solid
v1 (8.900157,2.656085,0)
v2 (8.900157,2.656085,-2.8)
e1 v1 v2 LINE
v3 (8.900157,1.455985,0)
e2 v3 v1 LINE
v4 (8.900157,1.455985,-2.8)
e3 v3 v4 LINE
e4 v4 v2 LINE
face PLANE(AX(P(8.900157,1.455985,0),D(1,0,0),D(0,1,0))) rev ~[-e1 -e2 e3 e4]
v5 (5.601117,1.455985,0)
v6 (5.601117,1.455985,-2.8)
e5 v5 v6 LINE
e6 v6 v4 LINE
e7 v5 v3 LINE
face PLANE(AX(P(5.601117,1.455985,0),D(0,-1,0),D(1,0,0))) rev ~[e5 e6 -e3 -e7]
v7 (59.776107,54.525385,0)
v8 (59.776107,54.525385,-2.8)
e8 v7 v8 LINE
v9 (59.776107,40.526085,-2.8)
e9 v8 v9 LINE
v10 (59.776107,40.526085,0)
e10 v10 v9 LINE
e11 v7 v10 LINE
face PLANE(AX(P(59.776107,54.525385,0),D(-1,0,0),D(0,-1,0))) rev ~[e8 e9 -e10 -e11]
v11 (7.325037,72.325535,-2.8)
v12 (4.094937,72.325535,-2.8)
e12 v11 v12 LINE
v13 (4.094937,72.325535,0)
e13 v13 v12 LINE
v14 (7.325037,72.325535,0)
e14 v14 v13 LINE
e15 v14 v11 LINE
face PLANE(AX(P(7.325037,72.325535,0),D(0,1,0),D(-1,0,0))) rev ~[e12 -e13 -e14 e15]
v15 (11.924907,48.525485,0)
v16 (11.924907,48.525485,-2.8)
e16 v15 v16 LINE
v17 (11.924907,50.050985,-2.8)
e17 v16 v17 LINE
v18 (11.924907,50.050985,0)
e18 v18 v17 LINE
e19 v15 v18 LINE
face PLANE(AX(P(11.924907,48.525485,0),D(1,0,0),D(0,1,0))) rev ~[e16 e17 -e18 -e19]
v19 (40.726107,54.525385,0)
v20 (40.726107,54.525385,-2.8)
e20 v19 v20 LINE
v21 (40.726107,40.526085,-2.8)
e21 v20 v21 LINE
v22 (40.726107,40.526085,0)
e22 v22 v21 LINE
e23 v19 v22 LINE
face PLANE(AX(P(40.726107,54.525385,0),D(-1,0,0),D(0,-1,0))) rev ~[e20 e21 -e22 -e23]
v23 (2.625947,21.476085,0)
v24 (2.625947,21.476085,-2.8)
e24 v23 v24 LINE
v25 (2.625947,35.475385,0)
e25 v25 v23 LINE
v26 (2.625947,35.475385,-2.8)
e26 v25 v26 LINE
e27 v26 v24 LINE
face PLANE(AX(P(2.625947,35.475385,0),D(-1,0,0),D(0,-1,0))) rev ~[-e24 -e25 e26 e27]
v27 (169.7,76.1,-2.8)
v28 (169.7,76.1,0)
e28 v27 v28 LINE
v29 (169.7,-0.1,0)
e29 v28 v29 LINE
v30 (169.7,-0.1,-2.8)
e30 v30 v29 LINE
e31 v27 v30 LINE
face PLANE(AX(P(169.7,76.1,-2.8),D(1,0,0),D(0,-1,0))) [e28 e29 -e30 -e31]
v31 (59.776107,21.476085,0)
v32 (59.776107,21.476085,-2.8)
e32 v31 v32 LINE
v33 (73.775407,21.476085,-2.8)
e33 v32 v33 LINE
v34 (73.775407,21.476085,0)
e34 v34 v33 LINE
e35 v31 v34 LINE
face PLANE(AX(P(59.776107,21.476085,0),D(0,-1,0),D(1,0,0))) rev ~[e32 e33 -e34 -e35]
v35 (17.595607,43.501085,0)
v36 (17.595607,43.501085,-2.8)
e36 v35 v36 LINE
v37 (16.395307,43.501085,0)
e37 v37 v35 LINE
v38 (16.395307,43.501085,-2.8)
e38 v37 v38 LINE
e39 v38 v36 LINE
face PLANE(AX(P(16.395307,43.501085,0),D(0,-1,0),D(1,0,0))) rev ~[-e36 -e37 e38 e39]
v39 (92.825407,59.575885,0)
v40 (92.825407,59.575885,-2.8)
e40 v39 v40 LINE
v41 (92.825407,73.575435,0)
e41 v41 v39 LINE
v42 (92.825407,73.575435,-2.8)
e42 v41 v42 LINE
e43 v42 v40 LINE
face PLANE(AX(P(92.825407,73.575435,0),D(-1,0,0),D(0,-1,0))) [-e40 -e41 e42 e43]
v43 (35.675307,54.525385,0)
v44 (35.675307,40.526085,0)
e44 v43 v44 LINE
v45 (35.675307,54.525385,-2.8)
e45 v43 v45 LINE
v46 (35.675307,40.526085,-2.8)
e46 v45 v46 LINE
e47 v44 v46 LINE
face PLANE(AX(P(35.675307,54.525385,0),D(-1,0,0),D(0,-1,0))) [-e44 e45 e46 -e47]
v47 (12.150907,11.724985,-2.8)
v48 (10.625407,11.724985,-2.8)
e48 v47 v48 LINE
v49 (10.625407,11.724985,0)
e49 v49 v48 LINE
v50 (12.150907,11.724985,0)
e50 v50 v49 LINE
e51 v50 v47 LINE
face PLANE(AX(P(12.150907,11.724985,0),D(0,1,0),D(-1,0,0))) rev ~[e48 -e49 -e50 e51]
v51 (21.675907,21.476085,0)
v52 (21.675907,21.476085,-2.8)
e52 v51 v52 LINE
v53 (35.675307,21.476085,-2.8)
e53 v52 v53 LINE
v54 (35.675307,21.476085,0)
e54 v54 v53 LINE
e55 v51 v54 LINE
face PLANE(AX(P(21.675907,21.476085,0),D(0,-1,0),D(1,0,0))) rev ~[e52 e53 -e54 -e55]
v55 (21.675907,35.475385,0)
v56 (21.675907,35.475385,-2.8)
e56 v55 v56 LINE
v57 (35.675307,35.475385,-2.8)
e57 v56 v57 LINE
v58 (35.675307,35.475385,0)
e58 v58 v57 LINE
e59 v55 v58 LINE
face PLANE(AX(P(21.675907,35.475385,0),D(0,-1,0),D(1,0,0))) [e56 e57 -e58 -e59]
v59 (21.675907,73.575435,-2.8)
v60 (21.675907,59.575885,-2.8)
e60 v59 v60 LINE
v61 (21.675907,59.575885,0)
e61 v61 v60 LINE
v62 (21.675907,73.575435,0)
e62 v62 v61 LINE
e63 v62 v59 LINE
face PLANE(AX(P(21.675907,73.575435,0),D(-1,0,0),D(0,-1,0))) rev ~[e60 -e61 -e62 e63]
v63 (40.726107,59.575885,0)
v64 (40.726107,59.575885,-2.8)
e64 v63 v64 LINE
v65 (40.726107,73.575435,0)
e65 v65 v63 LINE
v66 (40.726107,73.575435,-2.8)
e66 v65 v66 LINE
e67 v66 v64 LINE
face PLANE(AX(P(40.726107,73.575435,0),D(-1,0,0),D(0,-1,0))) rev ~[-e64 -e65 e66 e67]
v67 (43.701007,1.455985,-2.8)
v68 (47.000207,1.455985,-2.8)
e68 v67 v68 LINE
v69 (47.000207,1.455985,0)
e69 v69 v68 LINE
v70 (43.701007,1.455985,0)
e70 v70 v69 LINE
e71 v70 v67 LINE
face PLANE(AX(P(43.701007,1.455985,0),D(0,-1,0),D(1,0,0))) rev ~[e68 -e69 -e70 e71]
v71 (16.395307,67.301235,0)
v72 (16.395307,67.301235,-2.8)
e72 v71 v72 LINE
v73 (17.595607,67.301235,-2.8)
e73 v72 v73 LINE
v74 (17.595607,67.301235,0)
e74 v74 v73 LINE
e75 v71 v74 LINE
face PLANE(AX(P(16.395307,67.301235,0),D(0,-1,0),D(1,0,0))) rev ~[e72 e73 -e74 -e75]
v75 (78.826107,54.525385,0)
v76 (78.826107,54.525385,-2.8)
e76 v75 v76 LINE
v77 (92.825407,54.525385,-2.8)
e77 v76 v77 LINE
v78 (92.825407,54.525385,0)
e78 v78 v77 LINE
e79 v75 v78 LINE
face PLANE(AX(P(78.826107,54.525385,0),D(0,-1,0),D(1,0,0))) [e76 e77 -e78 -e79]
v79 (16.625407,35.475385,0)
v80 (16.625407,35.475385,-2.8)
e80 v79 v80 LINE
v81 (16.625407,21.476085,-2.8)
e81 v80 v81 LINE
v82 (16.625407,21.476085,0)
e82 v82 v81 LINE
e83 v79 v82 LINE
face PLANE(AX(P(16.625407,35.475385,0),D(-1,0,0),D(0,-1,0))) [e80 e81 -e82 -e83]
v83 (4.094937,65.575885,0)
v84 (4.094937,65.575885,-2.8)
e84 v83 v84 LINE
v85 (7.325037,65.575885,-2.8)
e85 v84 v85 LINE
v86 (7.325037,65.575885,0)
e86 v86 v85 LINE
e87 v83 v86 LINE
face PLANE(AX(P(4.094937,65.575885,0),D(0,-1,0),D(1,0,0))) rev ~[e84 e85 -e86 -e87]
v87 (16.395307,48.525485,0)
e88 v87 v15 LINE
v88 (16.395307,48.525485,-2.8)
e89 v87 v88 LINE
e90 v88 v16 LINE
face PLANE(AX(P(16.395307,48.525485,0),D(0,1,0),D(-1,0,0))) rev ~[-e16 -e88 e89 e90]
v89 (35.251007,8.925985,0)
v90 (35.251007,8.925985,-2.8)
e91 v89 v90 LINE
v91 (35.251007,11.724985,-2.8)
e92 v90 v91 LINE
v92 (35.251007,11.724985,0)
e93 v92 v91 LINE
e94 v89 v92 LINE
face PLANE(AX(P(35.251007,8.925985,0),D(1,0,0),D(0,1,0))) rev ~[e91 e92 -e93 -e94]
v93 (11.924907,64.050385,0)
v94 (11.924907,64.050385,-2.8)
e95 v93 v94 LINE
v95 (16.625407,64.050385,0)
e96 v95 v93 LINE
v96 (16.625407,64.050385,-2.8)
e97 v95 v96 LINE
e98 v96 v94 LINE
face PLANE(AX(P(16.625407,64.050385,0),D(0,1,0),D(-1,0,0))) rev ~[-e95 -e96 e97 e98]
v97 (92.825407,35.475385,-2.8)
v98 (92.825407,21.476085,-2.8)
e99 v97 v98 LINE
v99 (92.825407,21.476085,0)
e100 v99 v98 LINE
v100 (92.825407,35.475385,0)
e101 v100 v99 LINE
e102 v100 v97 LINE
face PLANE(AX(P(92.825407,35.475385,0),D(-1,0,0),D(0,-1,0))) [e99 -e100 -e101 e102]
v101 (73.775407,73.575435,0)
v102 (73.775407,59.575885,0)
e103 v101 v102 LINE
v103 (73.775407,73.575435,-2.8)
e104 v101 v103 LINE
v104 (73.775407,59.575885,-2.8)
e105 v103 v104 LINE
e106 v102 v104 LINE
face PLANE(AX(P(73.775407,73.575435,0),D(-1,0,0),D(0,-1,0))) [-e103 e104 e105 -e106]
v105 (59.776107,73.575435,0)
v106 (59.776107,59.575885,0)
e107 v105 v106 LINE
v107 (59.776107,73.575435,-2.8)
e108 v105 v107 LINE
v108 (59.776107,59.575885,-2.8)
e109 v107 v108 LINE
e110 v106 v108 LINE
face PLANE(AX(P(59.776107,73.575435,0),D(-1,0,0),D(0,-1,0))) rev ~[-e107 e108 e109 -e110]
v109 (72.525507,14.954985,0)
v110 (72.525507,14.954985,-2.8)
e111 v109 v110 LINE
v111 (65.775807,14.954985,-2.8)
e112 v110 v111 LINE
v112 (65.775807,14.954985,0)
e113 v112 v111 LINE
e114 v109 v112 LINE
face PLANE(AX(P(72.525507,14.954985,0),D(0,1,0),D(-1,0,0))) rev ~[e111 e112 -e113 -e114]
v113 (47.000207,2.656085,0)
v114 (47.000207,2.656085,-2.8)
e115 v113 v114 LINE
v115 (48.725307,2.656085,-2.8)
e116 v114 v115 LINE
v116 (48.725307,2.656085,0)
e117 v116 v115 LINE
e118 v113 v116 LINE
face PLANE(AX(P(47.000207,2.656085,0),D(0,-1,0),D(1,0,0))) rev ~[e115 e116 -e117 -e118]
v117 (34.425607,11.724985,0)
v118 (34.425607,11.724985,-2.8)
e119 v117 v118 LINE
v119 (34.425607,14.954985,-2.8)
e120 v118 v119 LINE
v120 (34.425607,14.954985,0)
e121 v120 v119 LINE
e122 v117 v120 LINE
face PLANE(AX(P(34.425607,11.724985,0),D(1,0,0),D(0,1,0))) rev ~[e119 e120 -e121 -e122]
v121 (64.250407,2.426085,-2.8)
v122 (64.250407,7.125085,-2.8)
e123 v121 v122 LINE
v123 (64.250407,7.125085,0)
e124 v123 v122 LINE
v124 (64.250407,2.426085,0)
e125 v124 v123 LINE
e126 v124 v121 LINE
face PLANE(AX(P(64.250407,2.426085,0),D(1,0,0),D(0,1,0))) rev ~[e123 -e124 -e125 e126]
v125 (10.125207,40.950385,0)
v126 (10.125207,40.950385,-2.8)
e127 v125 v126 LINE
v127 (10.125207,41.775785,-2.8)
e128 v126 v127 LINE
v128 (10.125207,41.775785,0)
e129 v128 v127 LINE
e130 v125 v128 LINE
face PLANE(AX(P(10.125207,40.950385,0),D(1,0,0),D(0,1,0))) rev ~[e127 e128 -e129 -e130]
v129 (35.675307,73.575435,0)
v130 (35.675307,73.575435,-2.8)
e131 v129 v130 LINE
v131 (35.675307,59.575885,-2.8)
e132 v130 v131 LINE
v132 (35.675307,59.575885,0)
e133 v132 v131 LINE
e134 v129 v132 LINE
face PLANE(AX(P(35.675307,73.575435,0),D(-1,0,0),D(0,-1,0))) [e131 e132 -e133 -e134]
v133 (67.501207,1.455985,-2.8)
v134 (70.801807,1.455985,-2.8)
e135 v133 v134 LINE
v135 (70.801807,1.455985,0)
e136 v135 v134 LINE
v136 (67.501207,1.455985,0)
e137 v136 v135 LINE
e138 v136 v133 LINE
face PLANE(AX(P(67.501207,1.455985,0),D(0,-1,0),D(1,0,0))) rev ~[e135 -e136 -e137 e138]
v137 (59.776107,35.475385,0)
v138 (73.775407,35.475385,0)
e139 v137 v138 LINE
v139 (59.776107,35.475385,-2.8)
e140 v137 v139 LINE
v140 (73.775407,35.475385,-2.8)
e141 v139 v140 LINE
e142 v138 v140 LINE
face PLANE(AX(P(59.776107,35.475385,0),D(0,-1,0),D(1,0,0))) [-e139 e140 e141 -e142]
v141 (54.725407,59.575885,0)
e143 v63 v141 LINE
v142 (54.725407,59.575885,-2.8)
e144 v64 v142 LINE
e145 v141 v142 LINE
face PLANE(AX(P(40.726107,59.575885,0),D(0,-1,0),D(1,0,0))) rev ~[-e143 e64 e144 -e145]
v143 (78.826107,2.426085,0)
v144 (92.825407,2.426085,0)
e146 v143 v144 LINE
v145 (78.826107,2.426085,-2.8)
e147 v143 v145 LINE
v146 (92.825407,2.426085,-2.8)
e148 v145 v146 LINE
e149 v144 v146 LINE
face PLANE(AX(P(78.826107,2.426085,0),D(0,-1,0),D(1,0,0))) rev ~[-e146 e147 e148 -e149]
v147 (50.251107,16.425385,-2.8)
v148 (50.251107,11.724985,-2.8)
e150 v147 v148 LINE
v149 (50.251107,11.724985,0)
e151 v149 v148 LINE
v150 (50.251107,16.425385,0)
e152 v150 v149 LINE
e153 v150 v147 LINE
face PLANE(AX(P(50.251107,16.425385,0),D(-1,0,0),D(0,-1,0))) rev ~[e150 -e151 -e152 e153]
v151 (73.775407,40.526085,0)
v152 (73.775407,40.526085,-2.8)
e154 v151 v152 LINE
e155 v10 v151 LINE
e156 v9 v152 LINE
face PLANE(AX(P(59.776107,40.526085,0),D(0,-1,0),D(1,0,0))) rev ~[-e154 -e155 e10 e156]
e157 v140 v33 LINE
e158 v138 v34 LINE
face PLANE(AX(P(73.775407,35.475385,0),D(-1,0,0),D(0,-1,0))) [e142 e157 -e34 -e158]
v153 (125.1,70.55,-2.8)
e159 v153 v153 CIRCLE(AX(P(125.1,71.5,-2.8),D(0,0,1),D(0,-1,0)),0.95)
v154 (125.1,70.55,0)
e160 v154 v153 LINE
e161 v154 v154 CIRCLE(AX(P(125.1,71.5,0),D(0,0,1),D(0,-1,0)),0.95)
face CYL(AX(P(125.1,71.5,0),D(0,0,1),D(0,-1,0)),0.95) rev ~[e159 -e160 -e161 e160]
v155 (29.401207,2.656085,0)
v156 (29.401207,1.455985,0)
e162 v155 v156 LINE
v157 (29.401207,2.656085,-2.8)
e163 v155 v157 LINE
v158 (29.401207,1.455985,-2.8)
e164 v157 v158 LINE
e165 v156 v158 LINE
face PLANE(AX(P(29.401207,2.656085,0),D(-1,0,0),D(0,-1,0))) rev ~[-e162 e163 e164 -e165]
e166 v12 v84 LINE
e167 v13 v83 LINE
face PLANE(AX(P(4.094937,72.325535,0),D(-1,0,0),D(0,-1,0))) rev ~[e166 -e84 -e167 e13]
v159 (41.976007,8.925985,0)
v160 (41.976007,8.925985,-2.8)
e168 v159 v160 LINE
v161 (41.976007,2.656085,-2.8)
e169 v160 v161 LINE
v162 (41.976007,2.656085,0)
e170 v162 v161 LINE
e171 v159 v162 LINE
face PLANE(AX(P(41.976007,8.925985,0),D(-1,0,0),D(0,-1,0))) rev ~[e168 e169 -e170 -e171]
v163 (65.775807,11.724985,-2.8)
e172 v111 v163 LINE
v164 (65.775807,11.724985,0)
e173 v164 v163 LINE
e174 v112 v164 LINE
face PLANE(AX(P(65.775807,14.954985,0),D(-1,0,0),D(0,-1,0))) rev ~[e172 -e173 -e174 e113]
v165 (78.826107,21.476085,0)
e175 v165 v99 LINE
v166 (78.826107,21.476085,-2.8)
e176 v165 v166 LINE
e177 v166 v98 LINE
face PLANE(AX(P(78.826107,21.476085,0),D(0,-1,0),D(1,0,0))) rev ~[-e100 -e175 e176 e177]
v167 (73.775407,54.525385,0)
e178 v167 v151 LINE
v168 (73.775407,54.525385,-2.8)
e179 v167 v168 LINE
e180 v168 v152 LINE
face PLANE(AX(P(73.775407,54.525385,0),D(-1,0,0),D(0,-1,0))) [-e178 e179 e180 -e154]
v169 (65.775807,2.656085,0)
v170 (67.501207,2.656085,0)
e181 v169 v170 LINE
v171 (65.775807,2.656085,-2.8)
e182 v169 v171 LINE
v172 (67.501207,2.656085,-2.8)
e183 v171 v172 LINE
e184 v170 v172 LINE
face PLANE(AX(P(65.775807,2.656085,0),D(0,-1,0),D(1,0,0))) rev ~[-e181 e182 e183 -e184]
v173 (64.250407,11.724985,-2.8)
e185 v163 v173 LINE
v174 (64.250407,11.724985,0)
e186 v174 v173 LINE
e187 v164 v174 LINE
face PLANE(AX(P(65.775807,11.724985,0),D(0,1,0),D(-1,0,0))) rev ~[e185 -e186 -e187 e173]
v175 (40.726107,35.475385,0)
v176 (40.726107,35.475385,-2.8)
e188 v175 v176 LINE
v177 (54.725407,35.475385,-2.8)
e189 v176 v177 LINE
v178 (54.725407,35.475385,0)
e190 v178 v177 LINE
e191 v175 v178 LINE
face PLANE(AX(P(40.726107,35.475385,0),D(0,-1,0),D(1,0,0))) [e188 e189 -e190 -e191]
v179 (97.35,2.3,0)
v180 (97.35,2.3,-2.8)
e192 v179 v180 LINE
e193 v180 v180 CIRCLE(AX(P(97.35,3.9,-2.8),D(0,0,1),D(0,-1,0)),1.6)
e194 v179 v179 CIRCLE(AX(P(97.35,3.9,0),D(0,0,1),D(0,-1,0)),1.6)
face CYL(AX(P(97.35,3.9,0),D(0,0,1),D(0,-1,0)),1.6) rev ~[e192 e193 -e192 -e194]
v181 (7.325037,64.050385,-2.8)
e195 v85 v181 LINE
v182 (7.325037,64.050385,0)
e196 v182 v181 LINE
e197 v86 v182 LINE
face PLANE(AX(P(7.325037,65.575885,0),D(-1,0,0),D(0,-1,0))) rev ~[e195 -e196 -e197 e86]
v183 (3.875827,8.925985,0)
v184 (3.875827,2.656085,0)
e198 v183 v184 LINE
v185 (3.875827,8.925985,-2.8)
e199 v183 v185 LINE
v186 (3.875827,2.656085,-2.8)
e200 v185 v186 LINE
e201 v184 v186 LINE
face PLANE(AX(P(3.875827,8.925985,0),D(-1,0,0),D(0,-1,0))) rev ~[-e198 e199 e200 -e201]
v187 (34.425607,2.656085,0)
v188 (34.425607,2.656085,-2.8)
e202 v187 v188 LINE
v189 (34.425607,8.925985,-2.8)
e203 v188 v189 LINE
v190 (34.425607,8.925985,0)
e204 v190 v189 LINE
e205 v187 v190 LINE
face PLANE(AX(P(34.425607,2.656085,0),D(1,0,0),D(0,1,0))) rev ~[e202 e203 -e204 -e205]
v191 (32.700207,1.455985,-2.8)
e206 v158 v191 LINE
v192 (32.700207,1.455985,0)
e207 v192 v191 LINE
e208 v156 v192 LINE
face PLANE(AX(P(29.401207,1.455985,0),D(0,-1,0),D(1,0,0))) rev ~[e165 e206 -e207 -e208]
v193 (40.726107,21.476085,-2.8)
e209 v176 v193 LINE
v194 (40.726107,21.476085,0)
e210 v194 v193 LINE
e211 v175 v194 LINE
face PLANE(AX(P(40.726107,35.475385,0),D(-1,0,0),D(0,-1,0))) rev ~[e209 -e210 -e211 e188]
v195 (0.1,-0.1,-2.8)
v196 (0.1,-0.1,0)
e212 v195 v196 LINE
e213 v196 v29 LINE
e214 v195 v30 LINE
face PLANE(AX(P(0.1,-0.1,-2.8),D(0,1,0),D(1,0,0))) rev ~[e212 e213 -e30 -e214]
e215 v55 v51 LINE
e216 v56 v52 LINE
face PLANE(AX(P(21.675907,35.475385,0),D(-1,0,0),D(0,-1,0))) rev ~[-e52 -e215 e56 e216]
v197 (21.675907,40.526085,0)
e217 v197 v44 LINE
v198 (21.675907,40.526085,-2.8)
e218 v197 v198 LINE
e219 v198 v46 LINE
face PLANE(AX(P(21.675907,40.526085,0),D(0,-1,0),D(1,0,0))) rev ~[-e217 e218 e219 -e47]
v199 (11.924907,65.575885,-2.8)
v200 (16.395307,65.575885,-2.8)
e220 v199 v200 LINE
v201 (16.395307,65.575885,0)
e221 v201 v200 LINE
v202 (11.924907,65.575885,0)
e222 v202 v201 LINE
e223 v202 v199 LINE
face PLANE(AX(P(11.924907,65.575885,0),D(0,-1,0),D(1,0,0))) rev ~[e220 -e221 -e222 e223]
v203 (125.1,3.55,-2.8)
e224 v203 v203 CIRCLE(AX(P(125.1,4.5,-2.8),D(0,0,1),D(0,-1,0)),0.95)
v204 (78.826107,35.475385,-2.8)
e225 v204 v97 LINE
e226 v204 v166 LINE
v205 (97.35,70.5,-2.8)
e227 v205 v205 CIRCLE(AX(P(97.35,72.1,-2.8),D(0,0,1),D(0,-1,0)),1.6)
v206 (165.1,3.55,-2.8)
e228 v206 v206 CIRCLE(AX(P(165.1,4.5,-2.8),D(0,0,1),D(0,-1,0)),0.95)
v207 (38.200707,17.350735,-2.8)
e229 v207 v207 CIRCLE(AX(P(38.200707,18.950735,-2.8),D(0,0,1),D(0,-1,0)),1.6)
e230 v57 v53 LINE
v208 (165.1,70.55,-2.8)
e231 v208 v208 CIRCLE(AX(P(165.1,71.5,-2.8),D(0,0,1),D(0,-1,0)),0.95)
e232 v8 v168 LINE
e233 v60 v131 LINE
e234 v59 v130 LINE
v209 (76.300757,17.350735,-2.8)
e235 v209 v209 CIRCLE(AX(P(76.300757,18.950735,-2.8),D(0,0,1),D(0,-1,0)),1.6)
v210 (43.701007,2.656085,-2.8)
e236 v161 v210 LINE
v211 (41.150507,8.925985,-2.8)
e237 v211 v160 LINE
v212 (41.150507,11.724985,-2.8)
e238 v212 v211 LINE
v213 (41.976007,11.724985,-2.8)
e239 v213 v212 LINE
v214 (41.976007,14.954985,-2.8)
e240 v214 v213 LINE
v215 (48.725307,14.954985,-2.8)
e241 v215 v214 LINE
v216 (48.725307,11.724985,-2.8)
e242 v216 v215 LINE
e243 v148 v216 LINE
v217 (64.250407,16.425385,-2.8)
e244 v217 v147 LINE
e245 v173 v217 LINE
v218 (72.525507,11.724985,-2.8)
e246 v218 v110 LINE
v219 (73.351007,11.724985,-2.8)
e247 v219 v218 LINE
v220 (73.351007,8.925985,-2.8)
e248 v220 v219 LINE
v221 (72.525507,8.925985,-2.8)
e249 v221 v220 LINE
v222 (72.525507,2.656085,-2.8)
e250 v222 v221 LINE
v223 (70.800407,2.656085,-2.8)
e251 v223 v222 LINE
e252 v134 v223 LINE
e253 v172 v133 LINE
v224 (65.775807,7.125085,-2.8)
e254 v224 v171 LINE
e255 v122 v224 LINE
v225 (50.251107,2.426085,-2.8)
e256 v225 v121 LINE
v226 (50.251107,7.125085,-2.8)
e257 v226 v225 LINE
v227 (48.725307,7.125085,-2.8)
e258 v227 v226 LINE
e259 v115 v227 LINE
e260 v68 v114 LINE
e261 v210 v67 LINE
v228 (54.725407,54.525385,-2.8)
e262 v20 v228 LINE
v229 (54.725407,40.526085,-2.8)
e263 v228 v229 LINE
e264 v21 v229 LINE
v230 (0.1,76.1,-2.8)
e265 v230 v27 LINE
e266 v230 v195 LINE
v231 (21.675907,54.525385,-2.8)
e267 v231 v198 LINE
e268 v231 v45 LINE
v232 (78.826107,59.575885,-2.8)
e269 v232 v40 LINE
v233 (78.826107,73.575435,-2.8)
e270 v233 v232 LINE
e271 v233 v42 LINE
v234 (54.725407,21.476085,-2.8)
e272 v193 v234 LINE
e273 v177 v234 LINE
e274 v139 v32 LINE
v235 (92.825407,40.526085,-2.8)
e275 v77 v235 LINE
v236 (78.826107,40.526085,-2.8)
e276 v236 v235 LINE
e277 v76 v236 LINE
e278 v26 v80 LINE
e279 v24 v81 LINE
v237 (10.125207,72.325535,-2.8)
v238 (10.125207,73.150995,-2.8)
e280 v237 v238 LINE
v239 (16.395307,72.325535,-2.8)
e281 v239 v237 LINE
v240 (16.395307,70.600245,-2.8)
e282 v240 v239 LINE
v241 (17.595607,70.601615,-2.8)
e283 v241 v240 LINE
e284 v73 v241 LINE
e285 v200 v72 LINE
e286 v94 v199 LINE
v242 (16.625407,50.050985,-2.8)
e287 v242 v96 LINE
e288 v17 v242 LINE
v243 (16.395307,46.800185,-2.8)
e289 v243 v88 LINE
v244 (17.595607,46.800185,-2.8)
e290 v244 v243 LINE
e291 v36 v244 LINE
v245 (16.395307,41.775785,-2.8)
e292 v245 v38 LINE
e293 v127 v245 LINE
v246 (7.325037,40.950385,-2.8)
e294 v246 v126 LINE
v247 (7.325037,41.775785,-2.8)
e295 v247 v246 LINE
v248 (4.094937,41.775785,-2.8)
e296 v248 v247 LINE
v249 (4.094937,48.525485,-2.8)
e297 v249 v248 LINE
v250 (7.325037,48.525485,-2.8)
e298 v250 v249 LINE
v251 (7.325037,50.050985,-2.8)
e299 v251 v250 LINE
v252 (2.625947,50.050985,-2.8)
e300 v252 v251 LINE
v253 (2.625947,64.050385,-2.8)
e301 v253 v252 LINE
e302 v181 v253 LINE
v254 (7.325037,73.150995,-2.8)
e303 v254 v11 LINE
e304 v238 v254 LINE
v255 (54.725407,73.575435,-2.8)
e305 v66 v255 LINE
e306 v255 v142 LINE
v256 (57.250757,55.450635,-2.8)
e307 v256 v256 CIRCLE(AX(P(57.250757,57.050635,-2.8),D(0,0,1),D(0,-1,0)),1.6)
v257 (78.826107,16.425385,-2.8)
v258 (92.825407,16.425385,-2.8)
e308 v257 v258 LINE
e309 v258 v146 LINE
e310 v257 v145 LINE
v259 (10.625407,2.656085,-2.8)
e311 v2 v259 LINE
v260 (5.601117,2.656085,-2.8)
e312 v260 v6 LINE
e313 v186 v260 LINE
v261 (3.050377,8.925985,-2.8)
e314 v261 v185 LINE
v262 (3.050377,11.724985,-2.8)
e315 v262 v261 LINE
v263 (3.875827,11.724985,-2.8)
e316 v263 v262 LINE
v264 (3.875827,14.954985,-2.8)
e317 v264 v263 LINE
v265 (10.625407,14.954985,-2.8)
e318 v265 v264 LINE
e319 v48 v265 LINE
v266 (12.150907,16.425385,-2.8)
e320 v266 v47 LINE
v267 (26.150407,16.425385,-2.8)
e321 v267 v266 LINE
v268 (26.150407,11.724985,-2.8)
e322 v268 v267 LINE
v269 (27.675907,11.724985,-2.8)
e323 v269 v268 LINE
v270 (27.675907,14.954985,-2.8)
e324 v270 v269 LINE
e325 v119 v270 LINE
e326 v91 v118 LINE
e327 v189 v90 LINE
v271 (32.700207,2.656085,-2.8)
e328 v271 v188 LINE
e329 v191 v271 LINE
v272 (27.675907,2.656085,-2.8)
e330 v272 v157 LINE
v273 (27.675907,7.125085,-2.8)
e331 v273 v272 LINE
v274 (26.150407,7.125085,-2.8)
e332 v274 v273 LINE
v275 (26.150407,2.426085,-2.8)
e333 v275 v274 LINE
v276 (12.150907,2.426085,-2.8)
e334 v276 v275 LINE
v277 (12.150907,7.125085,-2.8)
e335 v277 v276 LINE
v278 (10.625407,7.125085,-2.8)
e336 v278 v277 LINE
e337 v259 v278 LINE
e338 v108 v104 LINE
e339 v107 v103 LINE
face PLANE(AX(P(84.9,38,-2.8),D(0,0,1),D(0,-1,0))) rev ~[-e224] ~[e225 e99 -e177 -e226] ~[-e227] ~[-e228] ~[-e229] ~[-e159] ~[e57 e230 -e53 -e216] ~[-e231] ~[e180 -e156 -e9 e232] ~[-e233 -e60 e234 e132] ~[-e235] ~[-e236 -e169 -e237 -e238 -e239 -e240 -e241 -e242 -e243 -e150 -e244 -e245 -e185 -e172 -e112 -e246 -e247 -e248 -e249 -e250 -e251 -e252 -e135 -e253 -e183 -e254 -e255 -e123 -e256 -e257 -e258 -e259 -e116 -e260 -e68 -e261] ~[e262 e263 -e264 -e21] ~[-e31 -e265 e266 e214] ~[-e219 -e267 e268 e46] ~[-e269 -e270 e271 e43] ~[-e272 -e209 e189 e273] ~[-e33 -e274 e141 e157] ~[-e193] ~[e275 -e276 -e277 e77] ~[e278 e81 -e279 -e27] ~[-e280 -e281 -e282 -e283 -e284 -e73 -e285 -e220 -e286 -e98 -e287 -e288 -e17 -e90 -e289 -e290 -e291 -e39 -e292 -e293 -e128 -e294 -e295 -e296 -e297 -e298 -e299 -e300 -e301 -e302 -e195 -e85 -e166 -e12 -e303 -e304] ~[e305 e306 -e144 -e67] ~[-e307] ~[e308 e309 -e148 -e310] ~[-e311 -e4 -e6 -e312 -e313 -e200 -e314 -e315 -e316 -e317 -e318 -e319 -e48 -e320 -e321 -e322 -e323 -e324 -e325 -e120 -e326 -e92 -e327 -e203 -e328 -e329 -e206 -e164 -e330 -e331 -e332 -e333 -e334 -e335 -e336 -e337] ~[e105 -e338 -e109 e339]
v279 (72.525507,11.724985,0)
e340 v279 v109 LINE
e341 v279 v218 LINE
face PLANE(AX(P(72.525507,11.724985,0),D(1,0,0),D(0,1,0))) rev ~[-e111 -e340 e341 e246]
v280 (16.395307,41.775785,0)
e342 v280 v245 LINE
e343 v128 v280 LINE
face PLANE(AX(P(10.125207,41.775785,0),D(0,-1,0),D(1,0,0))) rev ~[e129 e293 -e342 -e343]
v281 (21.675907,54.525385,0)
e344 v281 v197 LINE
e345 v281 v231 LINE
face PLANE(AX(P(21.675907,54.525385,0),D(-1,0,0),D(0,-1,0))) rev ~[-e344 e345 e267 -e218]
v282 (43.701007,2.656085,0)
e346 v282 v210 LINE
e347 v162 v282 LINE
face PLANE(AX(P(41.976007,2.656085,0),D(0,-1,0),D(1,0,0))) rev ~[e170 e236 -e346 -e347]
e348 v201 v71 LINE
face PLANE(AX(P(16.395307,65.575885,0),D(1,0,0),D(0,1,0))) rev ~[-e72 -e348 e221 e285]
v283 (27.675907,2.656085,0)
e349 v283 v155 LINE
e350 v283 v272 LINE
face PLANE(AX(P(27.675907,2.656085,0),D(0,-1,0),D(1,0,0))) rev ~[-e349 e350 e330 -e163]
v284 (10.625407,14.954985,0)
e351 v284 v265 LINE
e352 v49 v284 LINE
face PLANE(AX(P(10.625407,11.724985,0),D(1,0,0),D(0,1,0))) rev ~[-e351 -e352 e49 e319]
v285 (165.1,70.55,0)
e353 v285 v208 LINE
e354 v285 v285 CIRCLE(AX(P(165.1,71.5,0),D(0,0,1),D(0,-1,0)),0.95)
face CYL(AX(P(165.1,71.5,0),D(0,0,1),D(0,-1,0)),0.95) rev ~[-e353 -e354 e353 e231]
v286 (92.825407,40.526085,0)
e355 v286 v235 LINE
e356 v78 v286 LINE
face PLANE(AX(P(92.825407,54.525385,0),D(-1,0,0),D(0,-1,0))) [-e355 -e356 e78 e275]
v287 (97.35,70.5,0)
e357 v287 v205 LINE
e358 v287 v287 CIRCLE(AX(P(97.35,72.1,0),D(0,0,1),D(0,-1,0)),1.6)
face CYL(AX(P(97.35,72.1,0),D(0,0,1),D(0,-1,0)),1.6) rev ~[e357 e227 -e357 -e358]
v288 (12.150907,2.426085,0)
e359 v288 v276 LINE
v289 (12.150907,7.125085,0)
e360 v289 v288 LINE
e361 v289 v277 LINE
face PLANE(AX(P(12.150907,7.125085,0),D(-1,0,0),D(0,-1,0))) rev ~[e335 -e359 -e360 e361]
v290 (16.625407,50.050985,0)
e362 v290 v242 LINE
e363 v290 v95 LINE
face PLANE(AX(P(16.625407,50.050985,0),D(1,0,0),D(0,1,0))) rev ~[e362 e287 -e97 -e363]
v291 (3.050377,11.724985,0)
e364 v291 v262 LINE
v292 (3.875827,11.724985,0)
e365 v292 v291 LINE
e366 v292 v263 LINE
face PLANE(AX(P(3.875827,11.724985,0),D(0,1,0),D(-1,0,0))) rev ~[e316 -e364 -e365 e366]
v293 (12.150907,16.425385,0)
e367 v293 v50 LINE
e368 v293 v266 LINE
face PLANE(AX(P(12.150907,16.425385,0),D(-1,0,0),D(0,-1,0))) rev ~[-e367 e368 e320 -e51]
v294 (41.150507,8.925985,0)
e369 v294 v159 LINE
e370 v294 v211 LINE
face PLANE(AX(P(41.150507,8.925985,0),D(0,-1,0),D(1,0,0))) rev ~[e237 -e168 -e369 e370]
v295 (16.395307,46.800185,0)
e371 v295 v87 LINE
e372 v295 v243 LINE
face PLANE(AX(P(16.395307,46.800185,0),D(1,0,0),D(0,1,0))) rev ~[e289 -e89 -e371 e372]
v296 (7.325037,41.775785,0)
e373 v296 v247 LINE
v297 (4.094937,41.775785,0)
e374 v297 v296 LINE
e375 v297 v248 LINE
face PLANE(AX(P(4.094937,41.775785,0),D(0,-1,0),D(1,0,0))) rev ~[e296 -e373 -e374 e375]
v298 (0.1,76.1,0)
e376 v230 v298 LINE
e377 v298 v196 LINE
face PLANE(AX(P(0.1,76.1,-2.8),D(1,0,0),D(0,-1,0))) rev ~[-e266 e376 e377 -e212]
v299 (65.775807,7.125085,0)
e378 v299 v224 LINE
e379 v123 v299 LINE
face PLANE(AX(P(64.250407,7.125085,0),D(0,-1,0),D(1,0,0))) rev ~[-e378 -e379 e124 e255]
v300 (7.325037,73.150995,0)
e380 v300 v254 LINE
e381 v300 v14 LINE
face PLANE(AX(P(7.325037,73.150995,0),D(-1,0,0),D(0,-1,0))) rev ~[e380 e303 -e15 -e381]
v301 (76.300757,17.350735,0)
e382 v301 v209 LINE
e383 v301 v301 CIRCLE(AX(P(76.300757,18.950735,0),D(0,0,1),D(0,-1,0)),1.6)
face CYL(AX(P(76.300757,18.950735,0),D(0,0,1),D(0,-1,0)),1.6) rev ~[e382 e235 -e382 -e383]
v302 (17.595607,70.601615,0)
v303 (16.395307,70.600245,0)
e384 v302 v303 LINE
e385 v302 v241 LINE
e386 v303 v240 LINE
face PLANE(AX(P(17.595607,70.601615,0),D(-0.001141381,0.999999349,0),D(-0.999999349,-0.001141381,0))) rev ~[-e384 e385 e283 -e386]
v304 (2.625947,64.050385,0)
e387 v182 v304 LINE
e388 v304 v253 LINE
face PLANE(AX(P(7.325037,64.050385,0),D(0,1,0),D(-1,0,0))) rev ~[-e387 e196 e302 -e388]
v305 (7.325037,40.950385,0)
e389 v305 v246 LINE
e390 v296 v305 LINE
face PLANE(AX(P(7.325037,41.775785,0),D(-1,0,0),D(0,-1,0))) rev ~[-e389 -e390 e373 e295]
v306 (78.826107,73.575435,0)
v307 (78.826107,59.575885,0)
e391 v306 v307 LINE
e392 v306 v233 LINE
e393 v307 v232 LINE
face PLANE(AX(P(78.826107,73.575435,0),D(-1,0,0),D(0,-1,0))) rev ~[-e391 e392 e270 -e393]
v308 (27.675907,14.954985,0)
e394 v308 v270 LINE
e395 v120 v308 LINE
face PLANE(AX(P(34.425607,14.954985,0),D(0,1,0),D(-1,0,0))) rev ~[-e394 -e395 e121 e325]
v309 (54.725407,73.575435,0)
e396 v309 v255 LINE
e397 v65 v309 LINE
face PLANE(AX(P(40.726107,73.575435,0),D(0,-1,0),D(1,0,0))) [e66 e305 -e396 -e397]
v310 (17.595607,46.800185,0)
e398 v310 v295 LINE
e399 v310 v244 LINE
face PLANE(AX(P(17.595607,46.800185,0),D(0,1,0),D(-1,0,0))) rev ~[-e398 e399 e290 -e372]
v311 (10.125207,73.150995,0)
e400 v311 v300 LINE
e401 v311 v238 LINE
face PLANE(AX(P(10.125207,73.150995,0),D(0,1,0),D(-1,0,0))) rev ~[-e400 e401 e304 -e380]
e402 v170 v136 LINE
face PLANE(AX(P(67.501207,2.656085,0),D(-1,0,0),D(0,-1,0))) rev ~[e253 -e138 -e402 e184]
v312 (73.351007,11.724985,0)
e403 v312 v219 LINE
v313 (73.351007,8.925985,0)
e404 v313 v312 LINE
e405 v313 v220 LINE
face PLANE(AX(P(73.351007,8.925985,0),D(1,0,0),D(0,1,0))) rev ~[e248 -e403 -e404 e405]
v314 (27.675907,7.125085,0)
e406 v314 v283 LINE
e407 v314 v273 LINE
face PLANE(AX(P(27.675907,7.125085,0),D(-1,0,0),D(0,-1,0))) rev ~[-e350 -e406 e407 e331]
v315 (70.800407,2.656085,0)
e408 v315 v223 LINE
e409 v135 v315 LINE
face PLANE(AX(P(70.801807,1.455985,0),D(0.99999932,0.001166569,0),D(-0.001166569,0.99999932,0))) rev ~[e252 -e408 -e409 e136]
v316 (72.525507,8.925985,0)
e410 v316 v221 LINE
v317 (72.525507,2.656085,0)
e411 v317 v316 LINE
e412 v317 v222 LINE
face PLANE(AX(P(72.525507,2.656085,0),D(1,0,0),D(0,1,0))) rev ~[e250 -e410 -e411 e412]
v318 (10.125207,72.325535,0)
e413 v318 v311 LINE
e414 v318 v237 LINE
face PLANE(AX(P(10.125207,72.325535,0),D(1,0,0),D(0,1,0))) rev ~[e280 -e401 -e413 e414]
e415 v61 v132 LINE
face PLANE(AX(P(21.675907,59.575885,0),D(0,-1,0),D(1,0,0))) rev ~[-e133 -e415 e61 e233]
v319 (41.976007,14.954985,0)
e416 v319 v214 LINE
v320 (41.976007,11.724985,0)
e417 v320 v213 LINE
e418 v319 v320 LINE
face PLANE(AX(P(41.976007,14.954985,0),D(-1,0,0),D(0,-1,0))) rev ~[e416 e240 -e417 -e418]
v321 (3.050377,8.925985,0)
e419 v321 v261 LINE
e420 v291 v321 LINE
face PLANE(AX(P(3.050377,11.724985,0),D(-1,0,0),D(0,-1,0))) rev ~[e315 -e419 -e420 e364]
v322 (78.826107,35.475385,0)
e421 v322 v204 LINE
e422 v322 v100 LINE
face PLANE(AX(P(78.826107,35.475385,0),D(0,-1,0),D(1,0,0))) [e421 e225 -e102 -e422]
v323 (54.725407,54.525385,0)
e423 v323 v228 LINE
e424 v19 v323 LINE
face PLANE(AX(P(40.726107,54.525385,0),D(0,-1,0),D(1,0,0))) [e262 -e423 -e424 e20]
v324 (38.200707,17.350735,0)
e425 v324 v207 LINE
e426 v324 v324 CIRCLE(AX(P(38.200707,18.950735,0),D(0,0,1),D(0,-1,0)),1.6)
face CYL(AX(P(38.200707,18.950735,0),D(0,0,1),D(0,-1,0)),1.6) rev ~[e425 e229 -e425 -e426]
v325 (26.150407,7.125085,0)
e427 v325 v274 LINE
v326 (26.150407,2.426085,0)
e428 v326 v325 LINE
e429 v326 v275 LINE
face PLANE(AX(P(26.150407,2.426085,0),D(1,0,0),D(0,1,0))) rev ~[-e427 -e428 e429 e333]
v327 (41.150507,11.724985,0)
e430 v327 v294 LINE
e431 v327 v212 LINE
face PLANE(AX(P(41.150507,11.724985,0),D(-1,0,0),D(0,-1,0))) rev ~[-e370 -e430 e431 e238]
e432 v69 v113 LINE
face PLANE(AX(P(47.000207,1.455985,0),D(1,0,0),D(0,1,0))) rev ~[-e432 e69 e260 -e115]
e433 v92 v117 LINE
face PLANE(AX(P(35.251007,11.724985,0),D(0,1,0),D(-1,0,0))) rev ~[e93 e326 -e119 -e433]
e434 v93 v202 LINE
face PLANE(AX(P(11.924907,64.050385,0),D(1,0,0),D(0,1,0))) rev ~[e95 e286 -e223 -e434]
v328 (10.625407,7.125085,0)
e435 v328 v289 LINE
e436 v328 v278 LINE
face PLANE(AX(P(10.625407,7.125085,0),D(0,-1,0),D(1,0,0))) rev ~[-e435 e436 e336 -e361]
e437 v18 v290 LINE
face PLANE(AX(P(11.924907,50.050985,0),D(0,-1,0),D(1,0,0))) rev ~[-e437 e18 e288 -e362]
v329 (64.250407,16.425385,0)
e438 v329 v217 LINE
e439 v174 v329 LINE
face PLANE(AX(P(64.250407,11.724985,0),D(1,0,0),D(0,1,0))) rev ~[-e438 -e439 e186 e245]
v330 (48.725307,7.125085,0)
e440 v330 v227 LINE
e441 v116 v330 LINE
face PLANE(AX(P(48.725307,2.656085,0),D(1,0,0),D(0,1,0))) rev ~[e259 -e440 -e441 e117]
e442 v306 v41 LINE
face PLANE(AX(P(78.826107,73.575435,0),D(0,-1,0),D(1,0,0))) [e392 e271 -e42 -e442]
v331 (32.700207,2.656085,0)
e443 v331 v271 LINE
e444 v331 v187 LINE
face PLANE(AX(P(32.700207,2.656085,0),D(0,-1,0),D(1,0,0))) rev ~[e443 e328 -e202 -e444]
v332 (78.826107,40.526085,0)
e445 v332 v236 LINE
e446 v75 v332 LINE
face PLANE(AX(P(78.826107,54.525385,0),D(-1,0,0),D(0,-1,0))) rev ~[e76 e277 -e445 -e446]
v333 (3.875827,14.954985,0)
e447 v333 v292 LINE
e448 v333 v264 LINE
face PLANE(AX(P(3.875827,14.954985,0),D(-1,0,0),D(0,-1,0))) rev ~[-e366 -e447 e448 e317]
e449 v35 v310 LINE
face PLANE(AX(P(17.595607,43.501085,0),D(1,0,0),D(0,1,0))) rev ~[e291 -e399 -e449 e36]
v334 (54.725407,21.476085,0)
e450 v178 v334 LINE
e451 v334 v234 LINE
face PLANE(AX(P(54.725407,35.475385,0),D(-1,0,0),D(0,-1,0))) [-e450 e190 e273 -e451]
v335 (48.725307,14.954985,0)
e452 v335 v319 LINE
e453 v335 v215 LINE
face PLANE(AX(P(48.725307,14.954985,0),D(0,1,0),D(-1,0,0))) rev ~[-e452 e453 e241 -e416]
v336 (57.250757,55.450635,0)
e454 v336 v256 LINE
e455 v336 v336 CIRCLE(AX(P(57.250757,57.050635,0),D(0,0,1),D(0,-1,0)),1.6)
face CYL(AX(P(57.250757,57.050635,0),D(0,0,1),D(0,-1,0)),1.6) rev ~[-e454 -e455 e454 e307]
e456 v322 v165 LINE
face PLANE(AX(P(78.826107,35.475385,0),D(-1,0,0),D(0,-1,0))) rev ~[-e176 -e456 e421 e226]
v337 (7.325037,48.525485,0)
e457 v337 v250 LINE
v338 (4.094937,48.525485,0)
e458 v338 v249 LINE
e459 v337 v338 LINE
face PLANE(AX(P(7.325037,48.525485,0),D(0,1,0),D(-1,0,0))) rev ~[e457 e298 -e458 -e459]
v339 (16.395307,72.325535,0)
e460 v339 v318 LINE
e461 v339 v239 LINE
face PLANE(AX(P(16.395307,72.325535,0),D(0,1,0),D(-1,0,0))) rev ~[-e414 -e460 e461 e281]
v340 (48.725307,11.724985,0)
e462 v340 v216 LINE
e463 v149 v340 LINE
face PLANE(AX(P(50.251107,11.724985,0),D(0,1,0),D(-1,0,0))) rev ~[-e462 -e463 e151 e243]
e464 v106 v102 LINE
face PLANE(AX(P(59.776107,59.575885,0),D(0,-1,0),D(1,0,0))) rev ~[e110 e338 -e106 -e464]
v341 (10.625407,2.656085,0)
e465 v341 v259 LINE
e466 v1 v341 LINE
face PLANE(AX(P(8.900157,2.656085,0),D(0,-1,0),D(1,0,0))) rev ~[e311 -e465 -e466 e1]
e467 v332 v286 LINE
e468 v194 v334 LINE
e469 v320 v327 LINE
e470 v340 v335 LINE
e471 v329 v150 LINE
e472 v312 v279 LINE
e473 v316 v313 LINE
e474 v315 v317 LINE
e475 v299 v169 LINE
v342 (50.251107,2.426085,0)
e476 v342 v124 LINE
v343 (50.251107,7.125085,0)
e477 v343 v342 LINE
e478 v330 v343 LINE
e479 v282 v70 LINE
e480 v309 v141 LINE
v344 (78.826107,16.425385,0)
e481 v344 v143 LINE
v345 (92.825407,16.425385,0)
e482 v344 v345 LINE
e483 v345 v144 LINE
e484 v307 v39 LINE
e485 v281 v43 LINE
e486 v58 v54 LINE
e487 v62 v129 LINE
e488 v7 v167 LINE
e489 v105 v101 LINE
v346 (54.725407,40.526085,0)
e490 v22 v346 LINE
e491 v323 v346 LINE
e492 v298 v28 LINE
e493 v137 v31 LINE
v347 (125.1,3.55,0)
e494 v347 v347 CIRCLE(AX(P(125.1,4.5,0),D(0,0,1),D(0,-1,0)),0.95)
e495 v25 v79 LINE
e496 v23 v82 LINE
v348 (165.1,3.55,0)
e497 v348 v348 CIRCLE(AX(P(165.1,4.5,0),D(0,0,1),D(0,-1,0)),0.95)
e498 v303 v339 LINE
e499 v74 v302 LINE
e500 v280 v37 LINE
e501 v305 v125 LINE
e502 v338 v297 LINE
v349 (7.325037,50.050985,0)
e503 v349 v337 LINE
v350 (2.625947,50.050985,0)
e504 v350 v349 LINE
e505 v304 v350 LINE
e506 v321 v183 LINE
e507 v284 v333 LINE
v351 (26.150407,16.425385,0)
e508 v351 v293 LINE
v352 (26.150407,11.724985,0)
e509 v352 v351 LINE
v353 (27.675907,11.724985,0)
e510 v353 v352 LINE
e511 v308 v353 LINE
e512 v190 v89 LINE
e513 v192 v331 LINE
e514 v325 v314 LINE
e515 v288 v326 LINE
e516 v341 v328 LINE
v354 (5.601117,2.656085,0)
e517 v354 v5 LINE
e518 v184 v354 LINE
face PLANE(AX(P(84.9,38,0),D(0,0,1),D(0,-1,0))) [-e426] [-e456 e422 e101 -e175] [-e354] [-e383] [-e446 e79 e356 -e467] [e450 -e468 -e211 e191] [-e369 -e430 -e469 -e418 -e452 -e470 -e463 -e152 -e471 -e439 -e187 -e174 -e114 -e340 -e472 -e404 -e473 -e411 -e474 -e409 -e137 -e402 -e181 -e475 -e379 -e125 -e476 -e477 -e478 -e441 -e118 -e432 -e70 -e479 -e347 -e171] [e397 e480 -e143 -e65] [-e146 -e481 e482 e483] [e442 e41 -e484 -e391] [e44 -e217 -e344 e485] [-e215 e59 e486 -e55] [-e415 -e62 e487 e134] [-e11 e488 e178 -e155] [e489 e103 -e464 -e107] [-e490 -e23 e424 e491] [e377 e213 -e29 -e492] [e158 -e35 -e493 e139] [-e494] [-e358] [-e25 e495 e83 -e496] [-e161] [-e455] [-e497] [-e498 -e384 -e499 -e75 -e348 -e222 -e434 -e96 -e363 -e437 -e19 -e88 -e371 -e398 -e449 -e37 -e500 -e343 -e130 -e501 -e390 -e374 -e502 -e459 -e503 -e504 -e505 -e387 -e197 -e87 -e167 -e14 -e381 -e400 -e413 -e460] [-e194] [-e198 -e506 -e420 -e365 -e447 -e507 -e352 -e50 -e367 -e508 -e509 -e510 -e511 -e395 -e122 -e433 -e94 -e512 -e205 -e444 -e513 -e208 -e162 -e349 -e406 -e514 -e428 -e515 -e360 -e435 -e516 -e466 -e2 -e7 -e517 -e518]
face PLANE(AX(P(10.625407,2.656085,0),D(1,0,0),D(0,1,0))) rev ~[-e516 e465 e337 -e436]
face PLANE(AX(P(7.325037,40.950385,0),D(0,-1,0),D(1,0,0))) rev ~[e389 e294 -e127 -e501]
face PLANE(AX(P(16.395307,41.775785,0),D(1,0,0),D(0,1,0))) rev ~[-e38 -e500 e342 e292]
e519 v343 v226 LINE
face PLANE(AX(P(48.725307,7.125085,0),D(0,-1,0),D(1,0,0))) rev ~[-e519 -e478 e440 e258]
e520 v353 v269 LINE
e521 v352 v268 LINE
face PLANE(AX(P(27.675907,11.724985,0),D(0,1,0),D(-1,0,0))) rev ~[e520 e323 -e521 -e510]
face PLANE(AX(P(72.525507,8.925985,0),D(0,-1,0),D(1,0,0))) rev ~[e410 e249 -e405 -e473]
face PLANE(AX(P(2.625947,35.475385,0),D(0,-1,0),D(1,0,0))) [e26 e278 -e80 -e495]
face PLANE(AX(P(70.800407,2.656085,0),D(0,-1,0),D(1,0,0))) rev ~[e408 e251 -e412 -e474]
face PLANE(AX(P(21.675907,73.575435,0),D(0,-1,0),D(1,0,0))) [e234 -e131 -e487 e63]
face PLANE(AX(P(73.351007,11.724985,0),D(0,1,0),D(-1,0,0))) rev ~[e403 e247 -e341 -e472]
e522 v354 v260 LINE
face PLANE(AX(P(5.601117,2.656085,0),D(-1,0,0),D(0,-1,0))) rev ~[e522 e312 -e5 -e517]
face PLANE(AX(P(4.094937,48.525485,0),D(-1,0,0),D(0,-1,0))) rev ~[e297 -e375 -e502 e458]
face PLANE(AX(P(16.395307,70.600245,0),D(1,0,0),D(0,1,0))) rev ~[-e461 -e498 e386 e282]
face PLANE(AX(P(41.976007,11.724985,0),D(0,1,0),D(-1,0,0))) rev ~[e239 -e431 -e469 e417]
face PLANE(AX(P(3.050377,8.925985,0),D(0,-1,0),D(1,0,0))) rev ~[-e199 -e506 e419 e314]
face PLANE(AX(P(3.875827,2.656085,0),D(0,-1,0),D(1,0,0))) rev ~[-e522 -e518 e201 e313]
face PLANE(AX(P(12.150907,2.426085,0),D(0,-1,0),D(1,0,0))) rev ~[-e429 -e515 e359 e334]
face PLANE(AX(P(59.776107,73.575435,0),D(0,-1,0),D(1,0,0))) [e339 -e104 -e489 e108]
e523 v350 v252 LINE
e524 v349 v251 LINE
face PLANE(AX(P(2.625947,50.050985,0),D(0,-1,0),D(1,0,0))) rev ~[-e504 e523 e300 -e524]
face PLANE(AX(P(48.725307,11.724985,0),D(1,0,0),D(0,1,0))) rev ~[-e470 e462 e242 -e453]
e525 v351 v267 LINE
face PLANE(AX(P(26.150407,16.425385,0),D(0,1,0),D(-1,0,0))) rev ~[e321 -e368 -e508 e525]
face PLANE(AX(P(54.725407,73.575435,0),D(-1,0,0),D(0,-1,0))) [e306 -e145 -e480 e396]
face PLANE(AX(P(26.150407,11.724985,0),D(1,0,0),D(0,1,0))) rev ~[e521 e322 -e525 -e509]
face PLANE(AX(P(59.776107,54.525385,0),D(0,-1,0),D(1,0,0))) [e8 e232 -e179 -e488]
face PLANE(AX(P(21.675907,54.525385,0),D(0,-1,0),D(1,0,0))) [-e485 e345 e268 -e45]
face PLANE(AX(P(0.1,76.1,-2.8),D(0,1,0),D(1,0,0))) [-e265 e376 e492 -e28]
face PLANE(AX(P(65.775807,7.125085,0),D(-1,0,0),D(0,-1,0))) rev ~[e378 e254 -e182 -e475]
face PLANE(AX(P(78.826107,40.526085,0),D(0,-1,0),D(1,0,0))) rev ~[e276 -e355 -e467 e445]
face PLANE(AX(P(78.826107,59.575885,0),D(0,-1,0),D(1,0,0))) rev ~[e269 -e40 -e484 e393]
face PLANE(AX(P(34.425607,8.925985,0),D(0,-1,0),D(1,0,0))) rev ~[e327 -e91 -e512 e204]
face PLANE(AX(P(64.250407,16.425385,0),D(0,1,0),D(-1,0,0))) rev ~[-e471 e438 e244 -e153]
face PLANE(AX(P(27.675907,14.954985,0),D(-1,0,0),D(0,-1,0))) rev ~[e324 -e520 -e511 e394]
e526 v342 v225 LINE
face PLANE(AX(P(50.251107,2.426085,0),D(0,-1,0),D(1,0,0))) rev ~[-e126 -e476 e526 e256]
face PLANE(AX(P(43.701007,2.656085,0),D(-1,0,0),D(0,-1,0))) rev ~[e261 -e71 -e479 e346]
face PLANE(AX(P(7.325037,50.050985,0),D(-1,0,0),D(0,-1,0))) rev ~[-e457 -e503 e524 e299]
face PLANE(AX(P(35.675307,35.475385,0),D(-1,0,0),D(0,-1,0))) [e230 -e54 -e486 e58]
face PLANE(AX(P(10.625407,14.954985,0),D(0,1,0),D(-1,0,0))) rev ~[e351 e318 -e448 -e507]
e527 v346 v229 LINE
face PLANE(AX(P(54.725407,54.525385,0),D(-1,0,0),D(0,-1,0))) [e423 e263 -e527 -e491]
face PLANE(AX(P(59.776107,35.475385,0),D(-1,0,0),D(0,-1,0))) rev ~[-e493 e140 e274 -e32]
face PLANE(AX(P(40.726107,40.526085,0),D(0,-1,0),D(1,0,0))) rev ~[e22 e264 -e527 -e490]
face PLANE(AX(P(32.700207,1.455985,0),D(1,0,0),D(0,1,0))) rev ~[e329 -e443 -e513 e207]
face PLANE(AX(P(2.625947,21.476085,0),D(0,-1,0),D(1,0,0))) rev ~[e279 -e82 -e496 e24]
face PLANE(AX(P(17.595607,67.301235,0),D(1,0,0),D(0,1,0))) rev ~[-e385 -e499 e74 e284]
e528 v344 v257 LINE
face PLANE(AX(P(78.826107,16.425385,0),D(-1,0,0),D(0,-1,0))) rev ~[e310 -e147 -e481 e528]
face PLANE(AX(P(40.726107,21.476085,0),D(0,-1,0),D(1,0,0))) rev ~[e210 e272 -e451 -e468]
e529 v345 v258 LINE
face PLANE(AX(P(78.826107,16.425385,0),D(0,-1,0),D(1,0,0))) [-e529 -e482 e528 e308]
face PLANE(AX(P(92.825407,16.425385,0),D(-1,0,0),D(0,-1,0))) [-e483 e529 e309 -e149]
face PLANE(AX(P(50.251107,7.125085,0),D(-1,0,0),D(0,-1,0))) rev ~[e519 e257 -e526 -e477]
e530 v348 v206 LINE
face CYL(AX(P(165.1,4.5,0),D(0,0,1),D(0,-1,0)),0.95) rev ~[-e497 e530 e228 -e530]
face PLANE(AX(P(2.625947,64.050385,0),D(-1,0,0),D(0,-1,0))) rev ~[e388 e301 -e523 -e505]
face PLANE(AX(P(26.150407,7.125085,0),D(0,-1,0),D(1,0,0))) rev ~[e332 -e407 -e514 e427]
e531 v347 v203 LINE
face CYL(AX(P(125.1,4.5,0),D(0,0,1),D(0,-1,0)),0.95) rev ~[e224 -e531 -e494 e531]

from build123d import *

# Parameters (mm, degrees)
SKETCH_W                 = 76.2
SKETCH_H                 = 169.6
PAD_DEPTH                = 2.8
SKETCH001_W              = 13.9993
SKETCH001_H              = 13.9993
SKETCH001_H_2            = 13.99946
SKETCH001_W_2            = 13.99955
SKETCH001_H_3            = 13.9994
POCKET_DEPTH             = 5
SKETCH002_R              = 1.6
POCKET001_DEPTH          = 2.801
SKETCH011_R              = 0.95
POCKET002_DEPTH          = 2.801
CLONE001_PLACEMENT_ANGLE = 90


with BuildPart() as part:
    # Sketch → Pad (new body)
    with BuildSketch(Plane.XY):
        with Locations((38.1, 84.8)):
            Rectangle(SKETCH_W, SKETCH_H)
    extrude(amount=PAD_DEPTH)

    # Sketch001 (on Face6 of Pad) → Pocket (cut)
    with BuildSketch(Plane.XY.offset(2.8)):
        with Locations((66.674265, 85.725757)):
            Rectangle(SKETCH001_W, SKETCH001_H)
        with Locations((47.624265, 85.725757)):
            Rectangle(SKETCH001_W, SKETCH001_H)
        Polygon((5.498385, 17.495607), (5.499755, 16.295307), (3.774465, 16.295307), (3.774465, 10.025207), (2.949005, 10.025207), (2.949005, 7.225037), (3.774465, 7.225037), (3.774465, 3.994937), (10.524115, 3.994937), (10.524115, 7.225037), (12.049615, 7.225037), (12.049615, 2.525947), (26.049015, 2.525947), (26.049015, 7.225037), (27.574515, 7.225037), (27.574515, 3.994937), (34.324215, 3.994937), (34.324215, 7.225037), (35.149615, 7.225037), (35.149615, 10.025207), (34.324215, 10.025207), (34.324215, 16.295307), (32.598915, 16.295307), (32.598915, 17.495607), (29.299815, 17.495607), (29.299815, 16.295307), (27.574515, 16.295307), (27.574515, 11.824907), (26.049015, 11.824907), (26.049015, 16.525407), (12.049615, 16.525407), (12.049615, 11.824907), (10.524115, 11.824907), (10.524115, 16.295307), (8.798765, 16.295307), (8.798765, 17.495607), align=None)
        with Locations((47.624265, 9.525677)):
            Rectangle(SKETCH001_W, SKETCH001_H_2)
        Polygon((64.375015, 35.151007), (64.375015, 34.325607), (61.145015, 34.325607), (61.145015, 27.575907), (64.375015, 27.575907), (64.375015, 26.050407), (59.674615, 26.050407), (59.674615, 12.050907), (64.375015, 12.050907), (64.375015, 10.525407), (61.145015, 10.525407), (61.145015, 3.775827), (64.375015, 3.775827), (64.375015, 2.950377), (67.174015, 2.950377), (67.174015, 3.775827), (73.443915, 3.775827), (73.443915, 5.501117), (74.644015, 5.501117), (74.644015, 8.800157), (73.443915, 8.800157), (73.443915, 10.525407), (68.974915, 10.525407), (68.974915, 12.050907), (73.673915, 12.050907), (73.673915, 26.050407), (68.974915, 26.050407), (68.974915, 27.575907), (73.443915, 27.575907), (73.443915, 29.301207), (74.644015, 29.301207), (74.644015, 32.600207), (73.443915, 32.600207), (73.443915, 34.325607), (67.174015, 34.325607), (67.174015, 35.151007), align=None)
        with Locations((9.52434, 28.575607)):
            Rectangle(SKETCH001_W_2, SKETCH001_H_3)
        with Locations((28.574265, 28.575607)):
            Rectangle(SKETCH001_W, SKETCH001_H_3)
        with Locations((47.624265, 28.575607)):
            Rectangle(SKETCH001_W, SKETCH001_H_3)
        with Locations((9.52434, 47.625757)):
            Rectangle(SKETCH001_W_2, SKETCH001_H)
        with Locations((28.574265, 47.625757)):
            Rectangle(SKETCH001_W, SKETCH001_H)
        with Locations((47.624265, 47.625757)):
            Rectangle(SKETCH001_W, SKETCH001_H)
        Polygon((64.375015, 73.251007), (64.375015, 72.425507), (61.145015, 72.425507), (61.145015, 65.675807), (64.375015, 65.675807), (64.375015, 64.150407), (59.674615, 64.150407), (59.674615, 50.151107), (64.375015, 50.151107), (64.375015, 48.625307), (61.145015, 48.625307), (61.145015, 41.876007), (64.375015, 41.876007), (64.375015, 41.050507), (67.174015, 41.050507), (67.174015, 41.876007), (73.443915, 41.876007), (73.443915, 43.601007), (74.644015, 43.601007), (74.644015, 46.900207), (73.443915, 46.900207), (73.443915, 48.625307), (68.974915, 48.625307), (68.974915, 50.151107), (73.673915, 50.151107), (73.673915, 64.150407), (68.974915, 64.150407), (68.974915, 65.675807), (73.443915, 65.675807), (73.443915, 67.401207), (74.644015, 67.401207), (74.644015, 70.701807), (73.443915, 70.700407), (73.443915, 72.425507), (67.174015, 72.425507), (67.174015, 73.251007), align=None)
        with Locations((9.52434, 66.675757)):
            Rectangle(SKETCH001_W_2, SKETCH001_H)
        with Locations((28.574265, 66.675757)):
            Rectangle(SKETCH001_W, SKETCH001_H)
        with Locations((47.624265, 66.675757)):
            Rectangle(SKETCH001_W, SKETCH001_H)
        with Locations((9.52434, 85.725757)):
            Rectangle(SKETCH001_W_2, SKETCH001_H)
        with Locations((28.574265, 85.725757)):
            Rectangle(SKETCH001_W, SKETCH001_H)
    extrude(amount=-POCKET_DEPTH, mode=Mode.SUBTRACT)

    # Sketch002 (on Face5 of Pocket) → Pocket001 (cut, through all)
    with BuildSketch(Plane.XY.offset(2.8)):
        with Locations((19.049365, 57.150757)):
            Circle(SKETCH002_R)
        with Locations((57.149265, 76.200757)):
            Circle(SKETCH002_R)
        with Locations((57.149265, 38.100707)):
            Circle(SKETCH002_R)
        with Locations((4, 97.25)):
            Circle(SKETCH002_R)
        with Locations((72.2, 97.25)):
            Circle(SKETCH002_R)
    extrude(amount=-POCKET001_DEPTH, mode=Mode.SUBTRACT)

    # Sketch011 (on Face5 of Pocket001) → Pocket002 (cut, through all)
    with BuildSketch(Plane.XY.offset(2.8)):
        with Locations((4.6, 125)):
            Circle(SKETCH011_R)
        with Locations((71.6, 125)):
            Circle(SKETCH011_R)
        with Locations((4.6, 165)):
            Circle(SKETCH011_R)
        with Locations((71.6, 165)):
            Circle(SKETCH011_R)
    extrude(amount=-POCKET002_DEPTH, mode=Mode.SUBTRACT)


with BuildPart() as part_1:
    # Clone001 placement: moved
    add(part.part.moved(Location((0.1, 76.1, -2.8))).rotate(Axis((0.1, 76.1, -2.8), (0, 0, -1)), CLONE001_PLACEMENT_ANGLE))


solid = part_1.part
